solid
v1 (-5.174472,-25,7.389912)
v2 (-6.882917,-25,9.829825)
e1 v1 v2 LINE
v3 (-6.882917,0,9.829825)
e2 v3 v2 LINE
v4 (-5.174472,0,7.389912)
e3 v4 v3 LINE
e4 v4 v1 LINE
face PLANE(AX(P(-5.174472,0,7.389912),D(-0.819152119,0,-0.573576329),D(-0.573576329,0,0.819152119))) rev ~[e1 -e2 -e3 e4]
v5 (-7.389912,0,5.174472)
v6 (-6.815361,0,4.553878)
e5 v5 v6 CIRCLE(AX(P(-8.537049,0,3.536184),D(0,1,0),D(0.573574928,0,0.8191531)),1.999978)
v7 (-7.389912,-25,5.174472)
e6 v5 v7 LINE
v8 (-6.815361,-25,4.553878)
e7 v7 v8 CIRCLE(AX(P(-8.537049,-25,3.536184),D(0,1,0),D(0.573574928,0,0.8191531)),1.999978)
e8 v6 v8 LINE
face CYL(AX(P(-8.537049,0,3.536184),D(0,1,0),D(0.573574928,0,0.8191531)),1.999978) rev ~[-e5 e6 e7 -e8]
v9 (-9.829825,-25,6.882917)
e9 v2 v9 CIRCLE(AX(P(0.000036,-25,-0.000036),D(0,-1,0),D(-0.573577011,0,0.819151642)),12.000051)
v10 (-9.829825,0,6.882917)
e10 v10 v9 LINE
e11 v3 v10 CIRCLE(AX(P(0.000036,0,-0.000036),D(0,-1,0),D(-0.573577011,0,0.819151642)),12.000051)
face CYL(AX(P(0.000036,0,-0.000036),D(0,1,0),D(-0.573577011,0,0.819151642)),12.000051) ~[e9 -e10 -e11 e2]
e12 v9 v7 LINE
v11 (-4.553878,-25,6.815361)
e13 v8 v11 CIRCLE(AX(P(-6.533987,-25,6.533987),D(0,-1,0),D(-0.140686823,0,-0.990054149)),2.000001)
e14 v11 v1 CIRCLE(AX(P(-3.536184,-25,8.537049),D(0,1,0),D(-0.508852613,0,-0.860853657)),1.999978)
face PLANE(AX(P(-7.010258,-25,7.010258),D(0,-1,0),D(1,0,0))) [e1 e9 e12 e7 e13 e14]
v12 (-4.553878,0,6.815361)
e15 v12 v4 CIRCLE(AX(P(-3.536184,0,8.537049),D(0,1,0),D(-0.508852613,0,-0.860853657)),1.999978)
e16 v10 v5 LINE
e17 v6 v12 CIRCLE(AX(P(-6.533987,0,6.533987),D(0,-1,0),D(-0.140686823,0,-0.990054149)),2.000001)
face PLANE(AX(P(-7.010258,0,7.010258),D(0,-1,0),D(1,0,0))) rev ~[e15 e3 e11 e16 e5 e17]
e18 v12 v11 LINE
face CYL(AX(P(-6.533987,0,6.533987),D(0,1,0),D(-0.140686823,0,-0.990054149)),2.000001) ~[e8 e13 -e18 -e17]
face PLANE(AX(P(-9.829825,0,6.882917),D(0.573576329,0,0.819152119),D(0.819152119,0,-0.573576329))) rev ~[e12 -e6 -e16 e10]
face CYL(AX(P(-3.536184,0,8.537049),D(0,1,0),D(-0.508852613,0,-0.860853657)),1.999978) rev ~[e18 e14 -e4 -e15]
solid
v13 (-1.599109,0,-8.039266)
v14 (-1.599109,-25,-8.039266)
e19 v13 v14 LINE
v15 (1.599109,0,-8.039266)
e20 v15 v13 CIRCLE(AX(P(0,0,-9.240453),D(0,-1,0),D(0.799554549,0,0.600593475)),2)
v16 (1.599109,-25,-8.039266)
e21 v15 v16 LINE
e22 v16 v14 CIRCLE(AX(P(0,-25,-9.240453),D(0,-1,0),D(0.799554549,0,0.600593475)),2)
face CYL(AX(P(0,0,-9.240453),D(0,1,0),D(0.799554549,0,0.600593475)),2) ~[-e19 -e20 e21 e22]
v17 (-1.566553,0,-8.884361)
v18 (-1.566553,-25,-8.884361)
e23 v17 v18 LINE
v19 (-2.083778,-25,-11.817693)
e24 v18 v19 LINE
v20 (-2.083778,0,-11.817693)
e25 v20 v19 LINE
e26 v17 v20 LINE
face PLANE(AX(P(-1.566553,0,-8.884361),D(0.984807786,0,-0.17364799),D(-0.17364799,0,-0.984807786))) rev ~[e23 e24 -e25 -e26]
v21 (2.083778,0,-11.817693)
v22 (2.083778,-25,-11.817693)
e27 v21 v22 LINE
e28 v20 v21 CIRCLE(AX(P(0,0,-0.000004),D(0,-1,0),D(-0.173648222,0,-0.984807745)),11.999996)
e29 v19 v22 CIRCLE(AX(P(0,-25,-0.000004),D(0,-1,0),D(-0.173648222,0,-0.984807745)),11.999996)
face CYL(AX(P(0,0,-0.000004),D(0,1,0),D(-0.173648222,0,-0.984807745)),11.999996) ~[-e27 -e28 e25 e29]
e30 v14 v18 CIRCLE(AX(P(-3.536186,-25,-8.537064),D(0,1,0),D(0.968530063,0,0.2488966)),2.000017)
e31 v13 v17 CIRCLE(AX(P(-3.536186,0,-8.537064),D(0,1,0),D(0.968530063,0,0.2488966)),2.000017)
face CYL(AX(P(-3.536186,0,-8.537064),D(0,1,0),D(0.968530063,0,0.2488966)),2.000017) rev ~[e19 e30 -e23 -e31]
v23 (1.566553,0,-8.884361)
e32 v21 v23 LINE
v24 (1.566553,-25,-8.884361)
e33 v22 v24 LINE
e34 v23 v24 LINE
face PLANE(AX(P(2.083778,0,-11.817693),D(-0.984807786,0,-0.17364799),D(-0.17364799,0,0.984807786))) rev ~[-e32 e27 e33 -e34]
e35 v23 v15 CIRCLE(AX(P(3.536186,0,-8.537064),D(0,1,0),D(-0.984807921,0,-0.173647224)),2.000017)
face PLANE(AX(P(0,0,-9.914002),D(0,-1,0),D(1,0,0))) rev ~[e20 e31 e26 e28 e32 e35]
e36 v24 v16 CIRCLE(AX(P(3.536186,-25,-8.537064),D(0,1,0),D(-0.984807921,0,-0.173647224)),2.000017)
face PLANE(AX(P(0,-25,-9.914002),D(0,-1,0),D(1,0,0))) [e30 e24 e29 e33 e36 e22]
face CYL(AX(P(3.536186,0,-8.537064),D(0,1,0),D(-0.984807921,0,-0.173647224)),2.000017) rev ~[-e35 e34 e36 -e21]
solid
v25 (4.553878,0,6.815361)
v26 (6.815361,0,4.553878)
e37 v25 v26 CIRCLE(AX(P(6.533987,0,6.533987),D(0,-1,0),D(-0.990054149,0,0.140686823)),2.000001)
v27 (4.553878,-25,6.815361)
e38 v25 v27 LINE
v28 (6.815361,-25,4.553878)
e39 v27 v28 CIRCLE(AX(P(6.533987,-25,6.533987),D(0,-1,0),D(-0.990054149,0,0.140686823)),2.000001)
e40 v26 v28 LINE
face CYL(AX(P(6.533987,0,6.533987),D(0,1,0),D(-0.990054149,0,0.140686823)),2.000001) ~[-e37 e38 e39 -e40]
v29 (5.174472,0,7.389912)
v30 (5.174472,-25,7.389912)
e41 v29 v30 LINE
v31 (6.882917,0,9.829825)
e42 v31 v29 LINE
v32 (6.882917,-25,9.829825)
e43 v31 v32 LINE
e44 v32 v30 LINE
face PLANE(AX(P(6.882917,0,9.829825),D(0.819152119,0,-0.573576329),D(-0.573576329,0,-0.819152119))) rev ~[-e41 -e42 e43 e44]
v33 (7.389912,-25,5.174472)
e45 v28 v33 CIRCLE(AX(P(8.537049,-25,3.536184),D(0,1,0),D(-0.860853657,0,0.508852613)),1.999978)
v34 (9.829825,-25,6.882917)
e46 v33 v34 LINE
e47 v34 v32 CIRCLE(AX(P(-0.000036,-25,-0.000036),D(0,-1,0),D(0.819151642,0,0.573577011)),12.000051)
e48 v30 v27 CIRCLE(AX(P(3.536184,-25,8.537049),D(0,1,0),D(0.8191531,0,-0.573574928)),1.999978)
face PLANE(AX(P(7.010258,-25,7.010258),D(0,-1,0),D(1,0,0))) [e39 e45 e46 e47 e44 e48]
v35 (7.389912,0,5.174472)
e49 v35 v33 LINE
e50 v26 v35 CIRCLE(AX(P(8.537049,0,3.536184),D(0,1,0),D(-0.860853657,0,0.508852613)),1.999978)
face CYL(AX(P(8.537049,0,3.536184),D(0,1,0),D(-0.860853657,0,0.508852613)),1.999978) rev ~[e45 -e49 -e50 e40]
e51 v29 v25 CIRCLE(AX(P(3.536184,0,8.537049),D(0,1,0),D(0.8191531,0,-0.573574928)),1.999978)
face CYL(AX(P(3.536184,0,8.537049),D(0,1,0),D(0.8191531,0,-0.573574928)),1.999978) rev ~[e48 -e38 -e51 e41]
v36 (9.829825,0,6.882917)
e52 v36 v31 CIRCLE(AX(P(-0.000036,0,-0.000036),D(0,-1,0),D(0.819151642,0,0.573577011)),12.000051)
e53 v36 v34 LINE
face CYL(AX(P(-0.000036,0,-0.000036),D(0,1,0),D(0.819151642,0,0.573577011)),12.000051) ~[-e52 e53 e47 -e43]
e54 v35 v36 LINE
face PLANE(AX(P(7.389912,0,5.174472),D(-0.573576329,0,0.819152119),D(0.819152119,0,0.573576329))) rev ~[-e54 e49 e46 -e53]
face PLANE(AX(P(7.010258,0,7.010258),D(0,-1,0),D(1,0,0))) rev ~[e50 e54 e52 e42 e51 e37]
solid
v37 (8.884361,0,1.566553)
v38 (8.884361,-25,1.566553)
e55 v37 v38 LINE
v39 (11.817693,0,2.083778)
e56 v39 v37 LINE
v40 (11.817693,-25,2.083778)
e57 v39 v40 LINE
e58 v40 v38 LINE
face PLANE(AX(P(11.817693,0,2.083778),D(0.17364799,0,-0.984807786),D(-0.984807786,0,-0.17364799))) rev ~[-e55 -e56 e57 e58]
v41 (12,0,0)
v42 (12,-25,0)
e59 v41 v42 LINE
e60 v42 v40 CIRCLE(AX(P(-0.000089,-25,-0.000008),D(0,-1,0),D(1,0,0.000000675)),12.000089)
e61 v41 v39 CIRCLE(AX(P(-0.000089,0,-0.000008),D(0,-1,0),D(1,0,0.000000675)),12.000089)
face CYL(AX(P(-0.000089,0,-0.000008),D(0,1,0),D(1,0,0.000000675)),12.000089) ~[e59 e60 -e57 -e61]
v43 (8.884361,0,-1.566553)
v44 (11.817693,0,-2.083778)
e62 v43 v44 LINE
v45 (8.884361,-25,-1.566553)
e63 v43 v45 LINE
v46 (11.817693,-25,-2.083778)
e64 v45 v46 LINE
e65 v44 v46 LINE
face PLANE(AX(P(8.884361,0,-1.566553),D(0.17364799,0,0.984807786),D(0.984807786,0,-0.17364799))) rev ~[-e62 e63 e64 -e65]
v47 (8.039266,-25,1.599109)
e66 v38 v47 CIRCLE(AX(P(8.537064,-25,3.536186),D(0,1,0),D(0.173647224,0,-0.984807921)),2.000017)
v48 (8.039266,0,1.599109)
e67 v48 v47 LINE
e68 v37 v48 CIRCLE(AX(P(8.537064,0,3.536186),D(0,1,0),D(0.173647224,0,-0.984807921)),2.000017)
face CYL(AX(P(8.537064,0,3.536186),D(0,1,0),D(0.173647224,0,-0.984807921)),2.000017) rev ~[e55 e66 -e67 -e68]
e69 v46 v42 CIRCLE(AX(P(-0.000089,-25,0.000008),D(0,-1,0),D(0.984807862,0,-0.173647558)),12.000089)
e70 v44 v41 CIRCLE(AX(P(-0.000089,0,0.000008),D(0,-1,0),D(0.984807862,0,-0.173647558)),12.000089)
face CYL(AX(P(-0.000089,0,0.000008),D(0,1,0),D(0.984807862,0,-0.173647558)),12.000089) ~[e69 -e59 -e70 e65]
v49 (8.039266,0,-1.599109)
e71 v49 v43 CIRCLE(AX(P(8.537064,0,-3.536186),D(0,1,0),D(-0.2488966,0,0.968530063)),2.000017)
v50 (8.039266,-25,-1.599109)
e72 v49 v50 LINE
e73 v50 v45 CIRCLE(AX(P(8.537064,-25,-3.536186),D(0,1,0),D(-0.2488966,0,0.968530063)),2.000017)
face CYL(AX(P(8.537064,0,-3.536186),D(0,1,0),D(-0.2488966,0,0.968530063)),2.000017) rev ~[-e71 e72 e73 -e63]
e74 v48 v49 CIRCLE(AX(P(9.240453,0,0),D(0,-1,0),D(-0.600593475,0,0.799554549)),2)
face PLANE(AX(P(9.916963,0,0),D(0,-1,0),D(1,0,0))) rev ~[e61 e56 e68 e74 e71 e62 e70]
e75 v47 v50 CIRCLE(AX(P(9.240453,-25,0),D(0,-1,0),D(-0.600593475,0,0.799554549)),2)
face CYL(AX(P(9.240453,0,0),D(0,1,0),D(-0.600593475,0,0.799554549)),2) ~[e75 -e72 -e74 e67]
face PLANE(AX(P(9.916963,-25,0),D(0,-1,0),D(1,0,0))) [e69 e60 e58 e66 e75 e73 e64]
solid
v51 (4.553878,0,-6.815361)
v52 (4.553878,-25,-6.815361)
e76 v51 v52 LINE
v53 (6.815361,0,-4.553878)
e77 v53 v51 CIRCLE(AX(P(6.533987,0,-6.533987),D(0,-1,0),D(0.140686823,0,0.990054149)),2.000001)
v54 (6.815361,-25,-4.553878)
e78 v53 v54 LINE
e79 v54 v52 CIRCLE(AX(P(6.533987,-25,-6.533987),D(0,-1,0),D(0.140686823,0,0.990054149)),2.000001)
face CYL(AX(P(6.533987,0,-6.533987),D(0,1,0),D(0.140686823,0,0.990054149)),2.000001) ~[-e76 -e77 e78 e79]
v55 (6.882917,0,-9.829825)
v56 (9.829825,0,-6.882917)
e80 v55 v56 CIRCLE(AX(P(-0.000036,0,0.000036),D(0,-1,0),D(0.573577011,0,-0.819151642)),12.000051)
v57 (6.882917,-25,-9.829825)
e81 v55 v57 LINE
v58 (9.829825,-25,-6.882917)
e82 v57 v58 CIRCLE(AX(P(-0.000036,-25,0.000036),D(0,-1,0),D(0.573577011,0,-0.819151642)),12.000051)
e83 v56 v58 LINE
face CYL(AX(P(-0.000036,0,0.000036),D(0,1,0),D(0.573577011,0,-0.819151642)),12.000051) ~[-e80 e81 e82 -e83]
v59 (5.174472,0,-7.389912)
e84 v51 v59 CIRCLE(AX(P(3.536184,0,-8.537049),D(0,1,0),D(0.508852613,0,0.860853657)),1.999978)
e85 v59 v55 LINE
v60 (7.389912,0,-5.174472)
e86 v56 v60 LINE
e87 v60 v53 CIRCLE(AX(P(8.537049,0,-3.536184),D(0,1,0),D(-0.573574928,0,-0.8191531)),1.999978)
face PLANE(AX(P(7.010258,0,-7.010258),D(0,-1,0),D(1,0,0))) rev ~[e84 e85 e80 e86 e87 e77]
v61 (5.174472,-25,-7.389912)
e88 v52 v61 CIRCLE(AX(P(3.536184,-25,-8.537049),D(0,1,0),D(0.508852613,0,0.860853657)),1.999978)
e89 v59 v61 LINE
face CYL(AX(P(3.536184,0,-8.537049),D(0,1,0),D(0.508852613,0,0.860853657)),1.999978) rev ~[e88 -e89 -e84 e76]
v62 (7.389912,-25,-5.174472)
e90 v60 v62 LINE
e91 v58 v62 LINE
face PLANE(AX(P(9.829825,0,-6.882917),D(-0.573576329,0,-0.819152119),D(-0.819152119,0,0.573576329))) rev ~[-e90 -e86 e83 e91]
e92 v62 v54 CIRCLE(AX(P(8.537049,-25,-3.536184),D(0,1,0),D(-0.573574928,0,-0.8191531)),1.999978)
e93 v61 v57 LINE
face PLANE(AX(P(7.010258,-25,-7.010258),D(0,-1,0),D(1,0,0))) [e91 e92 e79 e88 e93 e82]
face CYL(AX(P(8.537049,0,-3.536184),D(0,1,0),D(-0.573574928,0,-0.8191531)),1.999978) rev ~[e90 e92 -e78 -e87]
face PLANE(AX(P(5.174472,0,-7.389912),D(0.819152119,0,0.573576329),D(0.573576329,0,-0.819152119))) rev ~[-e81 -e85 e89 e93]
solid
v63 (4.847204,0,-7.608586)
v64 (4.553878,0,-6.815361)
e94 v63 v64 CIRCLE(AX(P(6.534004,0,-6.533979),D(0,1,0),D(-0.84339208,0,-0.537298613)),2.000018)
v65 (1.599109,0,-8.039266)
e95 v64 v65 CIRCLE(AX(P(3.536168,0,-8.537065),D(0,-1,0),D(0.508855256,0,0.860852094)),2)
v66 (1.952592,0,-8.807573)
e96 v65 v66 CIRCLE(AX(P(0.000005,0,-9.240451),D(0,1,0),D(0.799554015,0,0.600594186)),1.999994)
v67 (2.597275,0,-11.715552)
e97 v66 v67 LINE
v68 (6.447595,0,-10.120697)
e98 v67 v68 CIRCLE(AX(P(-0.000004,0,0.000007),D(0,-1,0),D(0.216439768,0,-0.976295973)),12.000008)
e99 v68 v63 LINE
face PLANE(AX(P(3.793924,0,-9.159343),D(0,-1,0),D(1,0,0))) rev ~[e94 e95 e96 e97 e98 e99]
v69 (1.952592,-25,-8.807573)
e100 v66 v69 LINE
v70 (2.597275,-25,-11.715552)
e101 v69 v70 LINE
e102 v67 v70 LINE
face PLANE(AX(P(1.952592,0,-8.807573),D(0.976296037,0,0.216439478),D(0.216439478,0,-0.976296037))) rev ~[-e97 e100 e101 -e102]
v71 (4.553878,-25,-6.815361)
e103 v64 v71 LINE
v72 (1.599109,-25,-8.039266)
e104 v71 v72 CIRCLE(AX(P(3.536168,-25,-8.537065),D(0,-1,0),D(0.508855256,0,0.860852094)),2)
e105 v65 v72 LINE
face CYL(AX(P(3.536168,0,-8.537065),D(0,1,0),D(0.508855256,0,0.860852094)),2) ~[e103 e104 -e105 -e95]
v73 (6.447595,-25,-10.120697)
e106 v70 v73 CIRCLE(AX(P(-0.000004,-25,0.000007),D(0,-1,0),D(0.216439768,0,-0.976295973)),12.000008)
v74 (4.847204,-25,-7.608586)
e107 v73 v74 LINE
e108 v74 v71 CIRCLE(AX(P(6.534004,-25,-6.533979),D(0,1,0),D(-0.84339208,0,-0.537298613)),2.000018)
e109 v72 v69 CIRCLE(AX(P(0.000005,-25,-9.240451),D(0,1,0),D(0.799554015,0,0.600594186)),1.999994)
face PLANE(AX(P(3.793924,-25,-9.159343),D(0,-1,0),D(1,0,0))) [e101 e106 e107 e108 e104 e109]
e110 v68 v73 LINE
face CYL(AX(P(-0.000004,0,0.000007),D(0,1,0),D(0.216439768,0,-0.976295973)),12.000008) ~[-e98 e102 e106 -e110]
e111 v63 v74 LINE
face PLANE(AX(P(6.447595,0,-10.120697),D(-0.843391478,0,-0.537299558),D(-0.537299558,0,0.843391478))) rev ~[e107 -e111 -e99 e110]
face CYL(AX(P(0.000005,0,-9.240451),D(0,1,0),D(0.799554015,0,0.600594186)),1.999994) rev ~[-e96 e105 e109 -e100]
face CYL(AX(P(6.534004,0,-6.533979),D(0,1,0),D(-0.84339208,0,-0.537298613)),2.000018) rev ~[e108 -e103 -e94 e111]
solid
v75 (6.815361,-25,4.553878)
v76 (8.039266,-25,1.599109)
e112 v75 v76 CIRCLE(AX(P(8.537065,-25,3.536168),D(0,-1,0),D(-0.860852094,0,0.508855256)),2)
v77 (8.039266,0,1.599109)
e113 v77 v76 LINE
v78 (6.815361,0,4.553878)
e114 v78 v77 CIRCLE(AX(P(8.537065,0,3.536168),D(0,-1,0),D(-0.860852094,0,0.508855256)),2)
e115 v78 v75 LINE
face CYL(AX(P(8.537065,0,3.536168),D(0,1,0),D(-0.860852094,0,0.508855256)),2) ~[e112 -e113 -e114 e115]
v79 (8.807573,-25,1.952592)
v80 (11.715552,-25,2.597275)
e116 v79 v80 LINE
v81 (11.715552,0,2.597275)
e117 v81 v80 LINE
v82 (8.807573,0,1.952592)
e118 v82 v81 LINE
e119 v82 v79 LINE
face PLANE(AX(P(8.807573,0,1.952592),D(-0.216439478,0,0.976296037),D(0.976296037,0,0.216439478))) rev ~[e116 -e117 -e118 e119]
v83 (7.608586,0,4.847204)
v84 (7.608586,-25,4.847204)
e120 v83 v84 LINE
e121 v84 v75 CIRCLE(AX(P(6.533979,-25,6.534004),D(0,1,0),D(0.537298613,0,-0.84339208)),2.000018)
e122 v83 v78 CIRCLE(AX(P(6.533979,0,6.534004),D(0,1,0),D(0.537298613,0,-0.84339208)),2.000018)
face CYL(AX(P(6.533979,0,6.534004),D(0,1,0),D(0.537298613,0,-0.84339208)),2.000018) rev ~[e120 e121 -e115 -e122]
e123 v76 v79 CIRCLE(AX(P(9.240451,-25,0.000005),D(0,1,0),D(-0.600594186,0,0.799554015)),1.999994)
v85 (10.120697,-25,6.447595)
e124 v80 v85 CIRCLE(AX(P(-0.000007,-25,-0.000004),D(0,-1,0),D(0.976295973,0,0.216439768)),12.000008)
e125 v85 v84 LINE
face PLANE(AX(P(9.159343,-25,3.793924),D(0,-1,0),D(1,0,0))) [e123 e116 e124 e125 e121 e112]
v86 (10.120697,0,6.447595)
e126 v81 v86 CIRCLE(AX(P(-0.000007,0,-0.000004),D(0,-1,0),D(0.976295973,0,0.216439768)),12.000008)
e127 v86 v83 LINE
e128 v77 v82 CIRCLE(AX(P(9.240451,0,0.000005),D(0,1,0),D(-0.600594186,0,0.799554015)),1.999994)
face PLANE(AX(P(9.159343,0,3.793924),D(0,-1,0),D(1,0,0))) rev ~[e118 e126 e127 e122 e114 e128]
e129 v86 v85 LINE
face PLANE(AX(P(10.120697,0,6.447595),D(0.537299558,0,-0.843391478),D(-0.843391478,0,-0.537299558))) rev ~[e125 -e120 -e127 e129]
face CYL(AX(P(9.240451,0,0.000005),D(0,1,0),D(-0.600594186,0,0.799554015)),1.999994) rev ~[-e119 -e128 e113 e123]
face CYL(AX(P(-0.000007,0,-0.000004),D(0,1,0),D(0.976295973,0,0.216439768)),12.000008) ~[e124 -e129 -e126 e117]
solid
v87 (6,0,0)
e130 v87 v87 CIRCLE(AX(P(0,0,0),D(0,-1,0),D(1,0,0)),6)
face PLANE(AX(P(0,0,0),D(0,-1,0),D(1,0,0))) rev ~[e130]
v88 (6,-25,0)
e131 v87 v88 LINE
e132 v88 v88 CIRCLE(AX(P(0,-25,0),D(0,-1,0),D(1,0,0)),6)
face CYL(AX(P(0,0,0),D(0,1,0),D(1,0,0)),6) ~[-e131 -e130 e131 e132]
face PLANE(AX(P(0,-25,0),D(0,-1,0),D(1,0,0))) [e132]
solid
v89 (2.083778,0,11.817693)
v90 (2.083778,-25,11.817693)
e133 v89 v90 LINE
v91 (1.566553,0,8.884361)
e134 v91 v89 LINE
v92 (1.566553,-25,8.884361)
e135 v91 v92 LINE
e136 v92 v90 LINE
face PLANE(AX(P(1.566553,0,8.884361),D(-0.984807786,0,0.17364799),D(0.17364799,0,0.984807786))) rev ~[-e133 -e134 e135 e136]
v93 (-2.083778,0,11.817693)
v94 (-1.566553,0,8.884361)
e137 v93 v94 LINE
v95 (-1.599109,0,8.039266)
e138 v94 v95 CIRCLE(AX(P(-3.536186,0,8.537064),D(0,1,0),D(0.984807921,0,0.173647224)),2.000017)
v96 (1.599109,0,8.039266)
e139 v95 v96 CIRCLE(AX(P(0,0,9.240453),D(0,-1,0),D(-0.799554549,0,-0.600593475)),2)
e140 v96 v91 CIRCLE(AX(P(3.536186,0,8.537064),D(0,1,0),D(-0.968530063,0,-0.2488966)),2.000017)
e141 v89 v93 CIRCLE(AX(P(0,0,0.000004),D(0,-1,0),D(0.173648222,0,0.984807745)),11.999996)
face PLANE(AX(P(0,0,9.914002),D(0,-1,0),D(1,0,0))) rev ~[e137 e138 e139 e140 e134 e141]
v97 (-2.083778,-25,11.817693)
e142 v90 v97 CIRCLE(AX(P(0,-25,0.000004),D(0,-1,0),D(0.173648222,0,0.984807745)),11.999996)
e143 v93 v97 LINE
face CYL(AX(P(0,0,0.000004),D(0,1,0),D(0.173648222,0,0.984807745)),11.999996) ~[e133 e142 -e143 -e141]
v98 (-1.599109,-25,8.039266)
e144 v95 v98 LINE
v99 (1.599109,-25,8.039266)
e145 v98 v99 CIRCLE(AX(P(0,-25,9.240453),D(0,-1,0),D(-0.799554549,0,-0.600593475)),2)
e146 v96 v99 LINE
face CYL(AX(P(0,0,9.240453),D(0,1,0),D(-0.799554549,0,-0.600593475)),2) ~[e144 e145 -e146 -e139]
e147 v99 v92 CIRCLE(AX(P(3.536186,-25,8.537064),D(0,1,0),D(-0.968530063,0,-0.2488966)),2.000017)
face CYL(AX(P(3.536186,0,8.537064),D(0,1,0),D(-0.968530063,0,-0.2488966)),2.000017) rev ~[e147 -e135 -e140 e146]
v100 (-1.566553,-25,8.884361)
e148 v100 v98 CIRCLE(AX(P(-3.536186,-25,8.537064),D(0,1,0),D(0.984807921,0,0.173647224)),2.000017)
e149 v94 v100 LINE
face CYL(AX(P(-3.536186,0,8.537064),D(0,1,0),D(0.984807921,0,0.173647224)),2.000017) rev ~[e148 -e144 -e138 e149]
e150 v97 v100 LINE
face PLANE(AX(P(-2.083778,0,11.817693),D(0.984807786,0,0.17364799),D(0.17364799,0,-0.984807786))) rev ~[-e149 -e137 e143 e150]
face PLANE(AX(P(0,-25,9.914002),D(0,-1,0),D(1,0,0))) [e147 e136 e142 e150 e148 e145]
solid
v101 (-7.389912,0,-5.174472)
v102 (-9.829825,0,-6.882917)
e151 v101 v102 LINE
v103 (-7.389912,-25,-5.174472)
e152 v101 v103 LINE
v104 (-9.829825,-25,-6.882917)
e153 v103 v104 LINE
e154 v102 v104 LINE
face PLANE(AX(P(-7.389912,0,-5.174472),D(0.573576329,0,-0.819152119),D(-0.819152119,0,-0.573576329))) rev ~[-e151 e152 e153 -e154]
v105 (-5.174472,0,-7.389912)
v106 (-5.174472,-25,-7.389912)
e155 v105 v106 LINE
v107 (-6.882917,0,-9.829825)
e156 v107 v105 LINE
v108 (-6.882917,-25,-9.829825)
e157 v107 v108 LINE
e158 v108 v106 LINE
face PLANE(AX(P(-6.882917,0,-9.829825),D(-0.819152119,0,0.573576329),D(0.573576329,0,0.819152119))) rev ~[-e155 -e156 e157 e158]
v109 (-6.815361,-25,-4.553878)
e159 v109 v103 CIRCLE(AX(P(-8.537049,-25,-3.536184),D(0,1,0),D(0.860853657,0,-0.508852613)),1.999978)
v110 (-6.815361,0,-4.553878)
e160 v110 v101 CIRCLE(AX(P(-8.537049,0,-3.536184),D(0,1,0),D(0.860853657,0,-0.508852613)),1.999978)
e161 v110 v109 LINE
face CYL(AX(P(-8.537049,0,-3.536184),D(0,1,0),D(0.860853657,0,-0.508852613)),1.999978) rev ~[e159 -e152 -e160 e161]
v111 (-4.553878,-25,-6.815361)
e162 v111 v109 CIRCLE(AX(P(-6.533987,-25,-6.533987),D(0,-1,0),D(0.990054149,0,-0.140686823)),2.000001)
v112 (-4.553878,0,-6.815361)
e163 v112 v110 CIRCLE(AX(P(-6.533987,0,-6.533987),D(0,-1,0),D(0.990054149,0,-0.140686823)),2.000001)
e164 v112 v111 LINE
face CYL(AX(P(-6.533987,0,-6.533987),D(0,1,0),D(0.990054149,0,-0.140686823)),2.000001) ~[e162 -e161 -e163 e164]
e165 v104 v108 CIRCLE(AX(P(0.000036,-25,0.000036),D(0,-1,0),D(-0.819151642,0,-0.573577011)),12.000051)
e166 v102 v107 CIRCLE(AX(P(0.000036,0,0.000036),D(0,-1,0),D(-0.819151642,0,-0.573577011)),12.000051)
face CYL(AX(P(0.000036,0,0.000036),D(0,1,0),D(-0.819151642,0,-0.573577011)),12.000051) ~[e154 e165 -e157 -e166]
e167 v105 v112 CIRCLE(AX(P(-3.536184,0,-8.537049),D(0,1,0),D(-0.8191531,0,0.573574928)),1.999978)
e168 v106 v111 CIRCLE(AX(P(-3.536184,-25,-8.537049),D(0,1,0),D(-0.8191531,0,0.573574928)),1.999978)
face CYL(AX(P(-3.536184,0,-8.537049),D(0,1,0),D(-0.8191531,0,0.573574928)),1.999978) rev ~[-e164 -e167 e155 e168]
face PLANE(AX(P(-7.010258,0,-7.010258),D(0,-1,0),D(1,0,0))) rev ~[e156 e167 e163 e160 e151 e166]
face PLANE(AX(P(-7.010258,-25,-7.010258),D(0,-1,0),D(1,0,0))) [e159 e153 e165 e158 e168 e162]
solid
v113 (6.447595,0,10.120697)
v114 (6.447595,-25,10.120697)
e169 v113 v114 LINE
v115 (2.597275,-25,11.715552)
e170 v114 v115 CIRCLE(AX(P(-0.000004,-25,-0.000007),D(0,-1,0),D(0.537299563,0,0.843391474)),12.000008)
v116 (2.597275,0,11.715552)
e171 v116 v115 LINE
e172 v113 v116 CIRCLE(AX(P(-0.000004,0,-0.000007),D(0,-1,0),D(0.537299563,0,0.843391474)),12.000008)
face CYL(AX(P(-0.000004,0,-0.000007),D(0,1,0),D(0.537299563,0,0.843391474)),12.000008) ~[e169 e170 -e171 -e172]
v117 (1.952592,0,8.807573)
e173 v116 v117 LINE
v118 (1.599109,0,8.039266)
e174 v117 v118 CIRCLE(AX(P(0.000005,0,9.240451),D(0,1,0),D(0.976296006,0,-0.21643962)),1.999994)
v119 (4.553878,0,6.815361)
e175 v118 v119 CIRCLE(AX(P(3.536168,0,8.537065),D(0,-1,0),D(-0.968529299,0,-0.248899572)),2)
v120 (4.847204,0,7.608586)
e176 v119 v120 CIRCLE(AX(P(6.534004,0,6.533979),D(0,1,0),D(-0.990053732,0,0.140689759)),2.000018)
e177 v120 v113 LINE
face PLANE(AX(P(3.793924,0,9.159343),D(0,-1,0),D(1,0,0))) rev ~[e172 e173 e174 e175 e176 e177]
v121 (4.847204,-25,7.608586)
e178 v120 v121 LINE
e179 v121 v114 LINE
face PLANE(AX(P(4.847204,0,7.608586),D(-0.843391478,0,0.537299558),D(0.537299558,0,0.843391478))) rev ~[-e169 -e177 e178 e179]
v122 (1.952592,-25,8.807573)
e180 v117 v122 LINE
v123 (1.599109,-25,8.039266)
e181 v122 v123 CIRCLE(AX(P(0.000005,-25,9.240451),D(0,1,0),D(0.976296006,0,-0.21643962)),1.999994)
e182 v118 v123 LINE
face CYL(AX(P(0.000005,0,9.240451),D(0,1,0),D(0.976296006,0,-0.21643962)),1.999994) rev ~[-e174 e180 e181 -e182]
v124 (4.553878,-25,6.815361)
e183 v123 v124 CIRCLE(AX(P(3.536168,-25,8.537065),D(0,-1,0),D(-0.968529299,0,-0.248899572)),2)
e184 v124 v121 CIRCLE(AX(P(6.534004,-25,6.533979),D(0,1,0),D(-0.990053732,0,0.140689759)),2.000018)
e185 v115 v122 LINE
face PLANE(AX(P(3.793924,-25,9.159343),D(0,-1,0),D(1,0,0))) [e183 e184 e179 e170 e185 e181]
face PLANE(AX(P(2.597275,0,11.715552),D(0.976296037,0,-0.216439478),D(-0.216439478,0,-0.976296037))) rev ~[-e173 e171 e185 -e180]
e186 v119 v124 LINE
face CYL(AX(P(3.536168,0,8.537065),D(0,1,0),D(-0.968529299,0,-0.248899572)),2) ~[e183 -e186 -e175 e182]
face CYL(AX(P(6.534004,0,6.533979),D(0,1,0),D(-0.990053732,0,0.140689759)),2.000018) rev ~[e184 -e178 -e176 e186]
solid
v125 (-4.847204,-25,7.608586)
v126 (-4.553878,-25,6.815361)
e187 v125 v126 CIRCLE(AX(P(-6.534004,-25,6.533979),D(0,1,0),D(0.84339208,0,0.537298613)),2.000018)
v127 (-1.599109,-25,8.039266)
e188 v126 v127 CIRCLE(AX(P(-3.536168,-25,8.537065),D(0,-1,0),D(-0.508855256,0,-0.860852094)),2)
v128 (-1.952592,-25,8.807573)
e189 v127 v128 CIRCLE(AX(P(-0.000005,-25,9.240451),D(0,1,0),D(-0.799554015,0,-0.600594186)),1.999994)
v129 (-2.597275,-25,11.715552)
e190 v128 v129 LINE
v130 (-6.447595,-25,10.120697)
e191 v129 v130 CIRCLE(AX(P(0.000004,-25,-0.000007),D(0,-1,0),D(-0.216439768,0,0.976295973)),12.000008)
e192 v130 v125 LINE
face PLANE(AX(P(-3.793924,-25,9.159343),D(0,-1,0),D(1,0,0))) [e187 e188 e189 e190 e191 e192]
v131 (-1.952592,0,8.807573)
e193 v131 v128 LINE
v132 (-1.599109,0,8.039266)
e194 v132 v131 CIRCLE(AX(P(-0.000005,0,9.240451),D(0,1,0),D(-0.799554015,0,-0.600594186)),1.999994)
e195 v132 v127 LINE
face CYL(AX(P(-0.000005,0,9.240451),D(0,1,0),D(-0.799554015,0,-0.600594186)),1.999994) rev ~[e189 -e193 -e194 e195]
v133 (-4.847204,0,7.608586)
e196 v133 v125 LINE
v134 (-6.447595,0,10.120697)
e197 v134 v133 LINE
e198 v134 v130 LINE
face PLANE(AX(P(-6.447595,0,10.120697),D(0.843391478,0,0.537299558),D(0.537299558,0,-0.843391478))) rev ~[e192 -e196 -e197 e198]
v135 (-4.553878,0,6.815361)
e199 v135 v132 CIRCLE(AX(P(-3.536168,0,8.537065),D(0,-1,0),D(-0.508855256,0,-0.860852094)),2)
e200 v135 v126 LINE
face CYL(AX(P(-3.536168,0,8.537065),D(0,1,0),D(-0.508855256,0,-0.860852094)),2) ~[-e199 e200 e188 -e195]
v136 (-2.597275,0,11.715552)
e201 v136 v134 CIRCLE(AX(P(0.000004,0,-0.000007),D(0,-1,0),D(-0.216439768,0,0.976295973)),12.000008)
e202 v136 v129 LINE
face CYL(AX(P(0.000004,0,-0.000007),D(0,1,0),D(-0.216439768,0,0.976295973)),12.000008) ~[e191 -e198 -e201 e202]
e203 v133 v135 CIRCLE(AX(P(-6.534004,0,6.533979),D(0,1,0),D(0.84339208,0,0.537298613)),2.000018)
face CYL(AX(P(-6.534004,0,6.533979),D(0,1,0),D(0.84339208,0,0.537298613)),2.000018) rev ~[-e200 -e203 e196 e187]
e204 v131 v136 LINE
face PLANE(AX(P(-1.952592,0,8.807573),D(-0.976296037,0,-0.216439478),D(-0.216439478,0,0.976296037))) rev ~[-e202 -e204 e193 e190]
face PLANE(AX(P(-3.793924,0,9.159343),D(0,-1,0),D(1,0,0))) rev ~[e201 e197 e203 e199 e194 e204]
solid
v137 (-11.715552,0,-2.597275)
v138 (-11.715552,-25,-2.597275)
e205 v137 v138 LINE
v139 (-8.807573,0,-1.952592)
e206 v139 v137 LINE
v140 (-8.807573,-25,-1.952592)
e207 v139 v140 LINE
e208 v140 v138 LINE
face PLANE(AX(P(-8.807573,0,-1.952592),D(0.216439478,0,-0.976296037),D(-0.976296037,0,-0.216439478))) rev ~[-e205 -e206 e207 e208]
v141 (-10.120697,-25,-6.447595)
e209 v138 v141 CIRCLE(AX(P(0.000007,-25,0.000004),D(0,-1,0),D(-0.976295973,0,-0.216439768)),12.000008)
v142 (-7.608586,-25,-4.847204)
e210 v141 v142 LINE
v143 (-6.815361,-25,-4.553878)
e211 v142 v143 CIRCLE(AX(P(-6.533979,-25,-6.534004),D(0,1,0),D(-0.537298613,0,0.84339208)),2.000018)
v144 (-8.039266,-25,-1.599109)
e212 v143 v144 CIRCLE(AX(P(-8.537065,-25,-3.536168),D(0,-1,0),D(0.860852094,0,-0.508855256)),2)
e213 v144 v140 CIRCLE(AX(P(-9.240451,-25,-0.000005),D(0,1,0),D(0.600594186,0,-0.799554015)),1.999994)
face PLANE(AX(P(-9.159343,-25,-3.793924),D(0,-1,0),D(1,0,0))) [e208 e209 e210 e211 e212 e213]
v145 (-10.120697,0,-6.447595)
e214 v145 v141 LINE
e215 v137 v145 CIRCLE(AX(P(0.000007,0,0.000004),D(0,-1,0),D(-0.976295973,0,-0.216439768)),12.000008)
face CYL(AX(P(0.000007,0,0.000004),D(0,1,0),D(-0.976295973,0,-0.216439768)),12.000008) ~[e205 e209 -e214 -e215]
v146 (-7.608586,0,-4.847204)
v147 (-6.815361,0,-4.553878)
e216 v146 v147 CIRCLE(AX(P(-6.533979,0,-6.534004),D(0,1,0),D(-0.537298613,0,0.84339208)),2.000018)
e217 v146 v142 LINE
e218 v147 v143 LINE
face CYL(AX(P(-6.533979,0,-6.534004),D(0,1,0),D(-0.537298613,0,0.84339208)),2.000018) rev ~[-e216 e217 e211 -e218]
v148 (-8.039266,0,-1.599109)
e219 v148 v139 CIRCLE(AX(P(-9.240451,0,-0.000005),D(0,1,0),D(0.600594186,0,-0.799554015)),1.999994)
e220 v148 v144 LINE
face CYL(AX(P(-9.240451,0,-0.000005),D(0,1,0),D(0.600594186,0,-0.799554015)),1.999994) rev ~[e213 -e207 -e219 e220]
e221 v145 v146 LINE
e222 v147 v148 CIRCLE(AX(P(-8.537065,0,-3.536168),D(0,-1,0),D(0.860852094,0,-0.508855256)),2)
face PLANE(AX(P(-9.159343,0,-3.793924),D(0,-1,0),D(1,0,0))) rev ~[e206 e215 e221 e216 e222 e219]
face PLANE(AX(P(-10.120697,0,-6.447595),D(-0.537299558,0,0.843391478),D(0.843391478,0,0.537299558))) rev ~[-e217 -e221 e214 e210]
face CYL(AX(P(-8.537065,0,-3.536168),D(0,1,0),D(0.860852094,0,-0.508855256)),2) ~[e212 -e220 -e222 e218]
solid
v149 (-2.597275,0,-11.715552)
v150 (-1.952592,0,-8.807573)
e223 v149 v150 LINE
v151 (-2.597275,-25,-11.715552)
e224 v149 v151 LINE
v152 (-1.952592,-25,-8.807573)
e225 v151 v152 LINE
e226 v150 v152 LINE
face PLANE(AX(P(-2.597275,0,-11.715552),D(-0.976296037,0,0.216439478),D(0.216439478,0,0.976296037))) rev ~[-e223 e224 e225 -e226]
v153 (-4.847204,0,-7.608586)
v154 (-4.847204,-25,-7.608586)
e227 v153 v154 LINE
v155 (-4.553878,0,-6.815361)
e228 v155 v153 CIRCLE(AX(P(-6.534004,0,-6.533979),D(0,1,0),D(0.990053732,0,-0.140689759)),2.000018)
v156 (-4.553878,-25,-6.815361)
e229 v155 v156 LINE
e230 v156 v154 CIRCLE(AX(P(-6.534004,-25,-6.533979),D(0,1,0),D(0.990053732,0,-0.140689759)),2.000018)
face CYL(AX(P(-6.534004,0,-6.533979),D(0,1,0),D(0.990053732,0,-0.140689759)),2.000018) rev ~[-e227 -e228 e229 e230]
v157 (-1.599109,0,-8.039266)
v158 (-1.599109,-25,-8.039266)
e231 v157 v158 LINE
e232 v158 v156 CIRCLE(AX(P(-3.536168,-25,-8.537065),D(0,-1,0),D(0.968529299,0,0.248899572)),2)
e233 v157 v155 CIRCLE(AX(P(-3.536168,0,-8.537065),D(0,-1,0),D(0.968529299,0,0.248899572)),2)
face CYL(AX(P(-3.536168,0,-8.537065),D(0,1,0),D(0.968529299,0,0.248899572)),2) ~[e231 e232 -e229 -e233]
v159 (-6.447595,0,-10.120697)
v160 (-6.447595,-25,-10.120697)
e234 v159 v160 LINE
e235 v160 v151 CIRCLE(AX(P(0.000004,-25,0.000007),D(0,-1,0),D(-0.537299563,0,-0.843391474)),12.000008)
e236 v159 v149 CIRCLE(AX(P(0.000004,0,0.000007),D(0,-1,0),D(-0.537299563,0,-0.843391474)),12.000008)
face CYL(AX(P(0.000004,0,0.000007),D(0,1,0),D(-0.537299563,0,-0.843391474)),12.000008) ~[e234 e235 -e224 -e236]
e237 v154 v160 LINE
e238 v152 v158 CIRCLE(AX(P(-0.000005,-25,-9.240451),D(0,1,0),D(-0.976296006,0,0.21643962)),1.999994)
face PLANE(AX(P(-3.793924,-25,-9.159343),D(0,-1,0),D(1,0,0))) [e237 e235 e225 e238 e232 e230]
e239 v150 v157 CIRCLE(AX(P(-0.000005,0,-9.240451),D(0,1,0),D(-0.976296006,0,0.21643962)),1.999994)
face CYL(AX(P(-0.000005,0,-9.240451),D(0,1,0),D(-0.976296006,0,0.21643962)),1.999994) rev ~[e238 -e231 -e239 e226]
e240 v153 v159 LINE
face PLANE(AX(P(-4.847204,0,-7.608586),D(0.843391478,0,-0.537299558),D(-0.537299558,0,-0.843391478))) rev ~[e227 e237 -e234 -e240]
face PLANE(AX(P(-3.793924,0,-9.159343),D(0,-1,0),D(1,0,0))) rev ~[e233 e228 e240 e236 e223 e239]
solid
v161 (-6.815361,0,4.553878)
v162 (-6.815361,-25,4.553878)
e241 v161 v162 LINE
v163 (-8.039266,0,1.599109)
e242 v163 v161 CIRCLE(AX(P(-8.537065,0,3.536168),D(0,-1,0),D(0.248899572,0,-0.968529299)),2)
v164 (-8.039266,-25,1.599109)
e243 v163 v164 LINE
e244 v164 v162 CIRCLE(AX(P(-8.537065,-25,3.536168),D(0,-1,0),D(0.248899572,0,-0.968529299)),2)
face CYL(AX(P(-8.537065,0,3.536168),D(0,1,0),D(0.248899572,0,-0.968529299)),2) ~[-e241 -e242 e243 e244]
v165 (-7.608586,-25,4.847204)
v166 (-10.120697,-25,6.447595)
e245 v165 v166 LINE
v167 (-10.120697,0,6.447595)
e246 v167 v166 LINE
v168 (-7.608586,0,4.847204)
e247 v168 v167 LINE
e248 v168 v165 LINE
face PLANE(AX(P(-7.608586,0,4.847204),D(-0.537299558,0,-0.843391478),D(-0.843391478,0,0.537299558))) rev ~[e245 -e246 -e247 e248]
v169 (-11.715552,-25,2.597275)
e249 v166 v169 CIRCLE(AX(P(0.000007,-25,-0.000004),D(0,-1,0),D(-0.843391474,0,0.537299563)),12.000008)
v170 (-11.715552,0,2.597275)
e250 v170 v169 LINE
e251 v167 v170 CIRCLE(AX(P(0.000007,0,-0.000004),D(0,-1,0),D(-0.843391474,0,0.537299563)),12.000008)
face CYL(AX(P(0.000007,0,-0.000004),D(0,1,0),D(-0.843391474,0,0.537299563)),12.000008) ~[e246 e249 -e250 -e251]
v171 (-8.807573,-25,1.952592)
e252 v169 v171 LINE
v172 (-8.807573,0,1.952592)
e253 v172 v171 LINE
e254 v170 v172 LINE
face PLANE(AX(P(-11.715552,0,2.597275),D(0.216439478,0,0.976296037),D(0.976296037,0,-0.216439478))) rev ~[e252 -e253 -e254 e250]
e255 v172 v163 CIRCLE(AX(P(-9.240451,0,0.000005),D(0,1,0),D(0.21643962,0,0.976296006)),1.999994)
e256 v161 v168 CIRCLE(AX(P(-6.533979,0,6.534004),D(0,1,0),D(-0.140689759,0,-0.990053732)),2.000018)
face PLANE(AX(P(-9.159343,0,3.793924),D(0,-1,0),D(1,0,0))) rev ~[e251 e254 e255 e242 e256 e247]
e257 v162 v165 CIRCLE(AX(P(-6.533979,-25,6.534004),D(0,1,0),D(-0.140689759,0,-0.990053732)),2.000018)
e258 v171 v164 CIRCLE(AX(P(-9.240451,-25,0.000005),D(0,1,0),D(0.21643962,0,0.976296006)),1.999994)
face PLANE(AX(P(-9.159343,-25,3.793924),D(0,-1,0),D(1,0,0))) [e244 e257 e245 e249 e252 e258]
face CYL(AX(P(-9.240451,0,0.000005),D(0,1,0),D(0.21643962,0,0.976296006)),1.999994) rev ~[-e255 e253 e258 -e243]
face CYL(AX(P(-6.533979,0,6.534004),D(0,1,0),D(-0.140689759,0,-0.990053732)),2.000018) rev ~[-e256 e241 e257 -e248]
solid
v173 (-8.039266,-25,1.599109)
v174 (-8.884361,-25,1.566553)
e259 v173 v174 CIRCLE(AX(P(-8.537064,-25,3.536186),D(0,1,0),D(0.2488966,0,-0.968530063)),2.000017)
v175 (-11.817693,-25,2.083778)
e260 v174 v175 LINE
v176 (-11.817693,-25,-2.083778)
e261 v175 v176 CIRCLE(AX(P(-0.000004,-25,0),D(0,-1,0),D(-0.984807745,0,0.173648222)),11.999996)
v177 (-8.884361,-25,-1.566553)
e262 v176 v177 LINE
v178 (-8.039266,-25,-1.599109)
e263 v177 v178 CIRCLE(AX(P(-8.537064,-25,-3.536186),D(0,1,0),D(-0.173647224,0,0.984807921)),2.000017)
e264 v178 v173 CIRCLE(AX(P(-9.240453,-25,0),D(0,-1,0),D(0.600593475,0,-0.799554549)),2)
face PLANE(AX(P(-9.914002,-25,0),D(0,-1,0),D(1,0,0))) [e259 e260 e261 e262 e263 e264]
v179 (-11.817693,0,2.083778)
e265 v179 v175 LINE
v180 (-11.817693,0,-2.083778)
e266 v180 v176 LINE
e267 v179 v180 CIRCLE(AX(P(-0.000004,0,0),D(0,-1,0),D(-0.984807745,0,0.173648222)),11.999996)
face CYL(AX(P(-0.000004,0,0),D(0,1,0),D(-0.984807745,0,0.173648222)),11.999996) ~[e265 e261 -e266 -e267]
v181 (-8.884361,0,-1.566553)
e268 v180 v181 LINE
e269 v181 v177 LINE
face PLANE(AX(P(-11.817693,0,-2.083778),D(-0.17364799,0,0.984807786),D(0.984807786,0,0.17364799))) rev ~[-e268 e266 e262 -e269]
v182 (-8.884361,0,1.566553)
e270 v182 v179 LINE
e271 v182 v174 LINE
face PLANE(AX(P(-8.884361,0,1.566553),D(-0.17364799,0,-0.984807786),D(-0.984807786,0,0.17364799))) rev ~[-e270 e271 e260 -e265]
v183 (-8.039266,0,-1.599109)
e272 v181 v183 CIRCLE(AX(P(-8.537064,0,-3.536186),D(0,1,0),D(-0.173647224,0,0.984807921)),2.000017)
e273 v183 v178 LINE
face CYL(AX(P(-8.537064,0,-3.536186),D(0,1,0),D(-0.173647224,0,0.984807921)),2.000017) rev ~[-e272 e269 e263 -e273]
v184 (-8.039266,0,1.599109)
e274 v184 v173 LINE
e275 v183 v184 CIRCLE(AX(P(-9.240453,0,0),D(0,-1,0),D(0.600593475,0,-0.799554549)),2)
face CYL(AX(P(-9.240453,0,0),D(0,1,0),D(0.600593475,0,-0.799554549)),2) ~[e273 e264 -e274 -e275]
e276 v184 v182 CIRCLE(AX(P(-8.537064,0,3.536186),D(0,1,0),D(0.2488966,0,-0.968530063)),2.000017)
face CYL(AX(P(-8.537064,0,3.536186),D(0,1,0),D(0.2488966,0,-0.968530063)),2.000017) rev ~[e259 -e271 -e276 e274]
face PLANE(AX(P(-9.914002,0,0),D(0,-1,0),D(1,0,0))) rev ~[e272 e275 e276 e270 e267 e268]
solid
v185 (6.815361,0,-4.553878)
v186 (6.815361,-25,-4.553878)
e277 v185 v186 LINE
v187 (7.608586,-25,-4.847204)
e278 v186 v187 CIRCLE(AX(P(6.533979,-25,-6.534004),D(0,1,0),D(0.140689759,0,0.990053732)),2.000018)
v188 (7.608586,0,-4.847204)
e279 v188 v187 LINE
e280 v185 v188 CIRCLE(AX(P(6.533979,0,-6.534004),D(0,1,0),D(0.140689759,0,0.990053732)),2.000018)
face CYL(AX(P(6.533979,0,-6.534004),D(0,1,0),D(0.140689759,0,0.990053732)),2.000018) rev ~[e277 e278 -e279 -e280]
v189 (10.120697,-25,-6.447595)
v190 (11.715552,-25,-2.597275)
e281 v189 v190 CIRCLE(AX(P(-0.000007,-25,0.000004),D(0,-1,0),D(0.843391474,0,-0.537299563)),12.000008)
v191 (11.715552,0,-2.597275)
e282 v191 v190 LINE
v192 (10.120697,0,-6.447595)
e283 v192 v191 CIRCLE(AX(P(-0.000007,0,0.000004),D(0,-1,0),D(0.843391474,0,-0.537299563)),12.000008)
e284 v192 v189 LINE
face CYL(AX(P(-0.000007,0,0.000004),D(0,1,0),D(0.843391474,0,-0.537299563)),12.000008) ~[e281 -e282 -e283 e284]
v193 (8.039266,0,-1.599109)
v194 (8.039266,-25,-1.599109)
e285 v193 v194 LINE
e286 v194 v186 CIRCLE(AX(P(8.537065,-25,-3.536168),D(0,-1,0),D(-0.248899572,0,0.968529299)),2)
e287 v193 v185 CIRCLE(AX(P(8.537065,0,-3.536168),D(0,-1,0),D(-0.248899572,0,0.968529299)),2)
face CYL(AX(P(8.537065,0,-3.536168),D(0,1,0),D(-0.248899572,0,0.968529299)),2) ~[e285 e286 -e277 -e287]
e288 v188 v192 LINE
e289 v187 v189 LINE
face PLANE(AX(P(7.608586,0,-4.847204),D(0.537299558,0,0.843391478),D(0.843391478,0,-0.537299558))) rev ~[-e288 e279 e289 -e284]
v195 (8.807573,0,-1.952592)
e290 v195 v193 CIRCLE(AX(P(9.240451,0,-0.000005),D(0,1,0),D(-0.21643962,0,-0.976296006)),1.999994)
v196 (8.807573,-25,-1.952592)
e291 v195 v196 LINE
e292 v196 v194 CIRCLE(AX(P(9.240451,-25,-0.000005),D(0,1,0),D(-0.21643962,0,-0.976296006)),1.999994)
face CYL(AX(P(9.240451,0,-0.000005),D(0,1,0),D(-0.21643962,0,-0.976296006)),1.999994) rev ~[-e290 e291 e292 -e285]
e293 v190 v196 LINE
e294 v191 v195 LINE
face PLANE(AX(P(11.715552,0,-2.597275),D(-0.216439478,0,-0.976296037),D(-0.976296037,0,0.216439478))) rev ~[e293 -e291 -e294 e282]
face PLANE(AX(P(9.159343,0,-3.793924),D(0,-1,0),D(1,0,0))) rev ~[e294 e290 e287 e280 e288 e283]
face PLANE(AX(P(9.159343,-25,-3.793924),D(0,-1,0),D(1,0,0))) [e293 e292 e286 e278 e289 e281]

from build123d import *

# Parameters (mm, degrees)
F0_R     = 6
F1_DEPTH = 25


with BuildPart() as f1:
    # F0 (on Front) → F1 (new body)
    with BuildSketch(Plane.XZ):
        with BuildLine():
            ThreePointArc((-4.553878, 6.815361), (-2.770801, 6.689306), (-1.599109, 8.039266))
            ThreePointArc((-1.599109, 8.039266), (-1.816926, 8.404522), (-1.952592, 8.807573))
            Line((-1.952592, 8.807573), (-2.597275, 11.715552))
            ThreePointArc((-2.597275, 11.715552), (-4.592201, 11.086554), (-6.447595, 10.120697))
            Line((-6.447595, 10.120697), (-4.847204, 7.608586))
            ThreePointArc((-4.847204, 7.608586), (-4.658134, 7.227655), (-4.553878, 6.815361))
        make_face()
        with BuildLine():
            ThreePointArc((-1.599109, 8.039266), (0, 7.240453), (1.599109, 8.039266))
            ThreePointArc((1.599109, 8.039266), (1.537651, 8.460073), (1.566553, 8.884361))
            Line((1.566553, 8.884361), (2.083778, 11.817693))
            ThreePointArc((2.083778, 11.817693), (0, 12), (-2.083778, 11.817693))
            Line((-2.083778, 11.817693), (-1.566553, 8.884361))
            ThreePointArc((-1.566553, 8.884361), (-1.537651, 8.460073), (-1.599109, 8.039266))
        make_face()
        with BuildLine():
            ThreePointArc((1.599109, 8.039266), (2.770801, 6.689306), (4.553878, 6.815361))
            ThreePointArc((4.553878, 6.815361), (4.658134, 7.227655), (4.847204, 7.608586))
            Line((4.847204, 7.608586), (6.447595, 10.120697))
            ThreePointArc((6.447595, 10.120697), (4.592201, 11.086554), (2.597275, 11.715552))
            Line((2.597275, 11.715552), (1.952592, 8.807573))
            ThreePointArc((1.952592, 8.807573), (1.816926, 8.404522), (1.599109, 8.039266))
        make_face()
        with BuildLine():
            Line((7.389912, 5.174472), (9.829825, 6.882917))
            ThreePointArc((9.829825, 6.882917), (8.485281, 8.485281), (6.882917, 9.829825))
            Line((6.882917, 9.829825), (5.174472, 7.389912))
            ThreePointArc((5.174472, 7.389912), (4.894892, 7.069458), (4.553878, 6.815361))
            ThreePointArc((4.553878, 6.815361), (5.119773, 5.119773), (6.815361, 4.553878))
            ThreePointArc((6.815361, 4.553878), (7.069458, 4.894892), (7.389912, 5.174472))
        make_face()
        with BuildLine():
            Line((8.807573, 1.952592), (11.715552, 2.597275))
            ThreePointArc((11.715552, 2.597275), (11.086554, 4.592201), (10.120697, 6.447595))
            Line((10.120697, 6.447595), (7.608586, 4.847204))
            ThreePointArc((7.608586, 4.847204), (7.227655, 4.658134), (6.815361, 4.553878))
            ThreePointArc((6.815361, 4.553878), (6.689306, 2.770801), (8.039266, 1.599109))
            ThreePointArc((8.039266, 1.599109), (8.404522, 1.816926), (8.807573, 1.952592))
        make_face()
        with BuildLine():
            ThreePointArc((11.817693, -2.083778), (11.954336, -1.045869), (12, 0))
            ThreePointArc((12, 0), (11.954336, 1.045869), (11.817693, 2.083778))
            Line((11.817693, 2.083778), (8.884361, 1.566553))
            ThreePointArc((8.884361, 1.566553), (8.460073, 1.537651), (8.039266, 1.599109))
            ThreePointArc((8.039266, 1.599109), (7.240453, 0), (8.039266, -1.599109))
            ThreePointArc((8.039266, -1.599109), (8.460073, -1.537651), (8.884361, -1.566553))
            Line((8.884361, -1.566553), (11.817693, -2.083778))
        make_face()
        with BuildLine():
            ThreePointArc((6.882917, -9.829825), (8.485281, -8.485281), (9.829825, -6.882917))
            Line((9.829825, -6.882917), (7.389912, -5.174472))
            ThreePointArc((7.389912, -5.174472), (7.069458, -4.894892), (6.815361, -4.553878))
            ThreePointArc((6.815361, -4.553878), (5.119773, -5.119773), (4.553878, -6.815361))
            ThreePointArc((4.553878, -6.815361), (4.894892, -7.069458), (5.174472, -7.389912))
            Line((5.174472, -7.389912), (6.882917, -9.829825))
        make_face()
        with BuildLine():
            ThreePointArc((1.566553, -8.884361), (1.537651, -8.460073), (1.599109, -8.039266))
            ThreePointArc((1.599109, -8.039266), (0, -7.240453), (-1.599109, -8.039266))
            ThreePointArc((-1.599109, -8.039266), (-1.537651, -8.460073), (-1.566553, -8.884361))
            Line((-1.566553, -8.884361), (-2.083778, -11.817693))
            ThreePointArc((-2.083778, -11.817693), (0, -12), (2.083778, -11.817693))
            Line((2.083778, -11.817693), (1.566553, -8.884361))
        make_face()
        with BuildLine():
            ThreePointArc((-1.952592, -8.807573), (-1.816926, -8.404522), (-1.599109, -8.039266))
            ThreePointArc((-1.599109, -8.039266), (-2.770801, -6.689306), (-4.553878, -6.815361))
            ThreePointArc((-4.553878, -6.815361), (-4.658134, -7.227655), (-4.847204, -7.608586))
            Line((-4.847204, -7.608586), (-6.447595, -10.120697))
            ThreePointArc((-6.447595, -10.120697), (-4.592201, -11.086554), (-2.597275, -11.715552))
            Line((-2.597275, -11.715552), (-1.952592, -8.807573))
        make_face()
        with BuildLine():
            ThreePointArc((-5.174472, -7.389912), (-4.894892, -7.069458), (-4.553878, -6.815361))
            ThreePointArc((-4.553878, -6.815361), (-5.119773, -5.119773), (-6.815361, -4.553878))
            ThreePointArc((-6.815361, -4.553878), (-7.069458, -4.894892), (-7.389912, -5.174472))
            Line((-7.389912, -5.174472), (-9.829825, -6.882917))
            ThreePointArc((-9.829825, -6.882917), (-8.485281, -8.485281), (-6.882917, -9.829825))
            Line((-6.882917, -9.829825), (-5.174472, -7.389912))
        make_face()
        with BuildLine():
            ThreePointArc((-7.608586, -4.847204), (-7.227655, -4.658134), (-6.815361, -4.553878))
            ThreePointArc((-6.815361, -4.553878), (-6.689306, -2.770801), (-8.039266, -1.599109))
            ThreePointArc((-8.039266, -1.599109), (-8.404522, -1.816926), (-8.807573, -1.952592))
            Line((-8.807573, -1.952592), (-11.715552, -2.597275))
            ThreePointArc((-11.715552, -2.597275), (-11.086554, -4.592201), (-10.120697, -6.447595))
            Line((-10.120697, -6.447595), (-7.608586, -4.847204))
        make_face()
        with BuildLine():
            ThreePointArc((-8.039266, -1.599109), (-7.240453, 0), (-8.039266, 1.599109))
            ThreePointArc((-8.039266, 1.599109), (-8.460073, 1.537651), (-8.884361, 1.566553))
            Line((-8.884361, 1.566553), (-11.817693, 2.083778))
            ThreePointArc((-11.817693, 2.083778), (-12, 0), (-11.817693, -2.083778))
            Line((-11.817693, -2.083778), (-8.884361, -1.566553))
            ThreePointArc((-8.884361, -1.566553), (-8.460073, -1.537651), (-8.039266, -1.599109))
        make_face()
        with BuildLine():
            ThreePointArc((-8.039266, 1.599109), (-6.689306, 2.770801), (-6.815361, 4.553878))
            ThreePointArc((-6.815361, 4.553878), (-7.227655, 4.658134), (-7.608586, 4.847204))
            Line((-7.608586, 4.847204), (-10.120697, 6.447595))
            ThreePointArc((-10.120697, 6.447595), (-11.086554, 4.592201), (-11.715552, 2.597275))
            Line((-11.715552, 2.597275), (-8.807573, 1.952592))
            ThreePointArc((-8.807573, 1.952592), (-8.404522, 1.816926), (-8.039266, 1.599109))
        make_face()
        with BuildLine():
            ThreePointArc((-6.815361, 4.553878), (-5.119773, 5.119773), (-4.553878, 6.815361))
            ThreePointArc((-4.553878, 6.815361), (-4.894892, 7.069458), (-5.174472, 7.389912))
            Line((-5.174472, 7.389912), (-6.882917, 9.829825))
            ThreePointArc((-6.882917, 9.829825), (-8.485281, 8.485281), (-9.829825, 6.882917))
            Line((-9.829825, 6.882917), (-7.389912, 5.174472))
            ThreePointArc((-7.389912, 5.174472), (-7.069458, 4.894892), (-6.815361, 4.553878))
        make_face()
        with BuildLine():
            ThreePointArc((4.847204, -7.608586), (4.658134, -7.227655), (4.553878, -6.815361))
            ThreePointArc((4.553878, -6.815361), (2.770801, -6.689306), (1.599109, -8.039266))
            ThreePointArc((1.599109, -8.039266), (1.816926, -8.404522), (1.952592, -8.807573))
            Line((1.952592, -8.807573), (2.597275, -11.715552))
            ThreePointArc((2.597275, -11.715552), (4.592201, -11.086554), (6.447595, -10.120697))
            Line((6.447595, -10.120697), (4.847204, -7.608586))
        make_face()
        with BuildLine():
            ThreePointArc((10.120697, -6.447595), (11.086554, -4.592201), (11.715552, -2.597275))
            Line((11.715552, -2.597275), (8.807573, -1.952592))
            ThreePointArc((8.807573, -1.952592), (8.404522, -1.816926), (8.039266, -1.599109))
            ThreePointArc((8.039266, -1.599109), (6.689306, -2.770801), (6.815361, -4.553878))
            ThreePointArc((6.815361, -4.553878), (7.227655, -4.658134), (7.608586, -4.847204))
            Line((7.608586, -4.847204), (10.120697, -6.447595))
        make_face()
        Circle(F0_R)
    extrude(amount=F1_DEPTH)


solid = f1.part
